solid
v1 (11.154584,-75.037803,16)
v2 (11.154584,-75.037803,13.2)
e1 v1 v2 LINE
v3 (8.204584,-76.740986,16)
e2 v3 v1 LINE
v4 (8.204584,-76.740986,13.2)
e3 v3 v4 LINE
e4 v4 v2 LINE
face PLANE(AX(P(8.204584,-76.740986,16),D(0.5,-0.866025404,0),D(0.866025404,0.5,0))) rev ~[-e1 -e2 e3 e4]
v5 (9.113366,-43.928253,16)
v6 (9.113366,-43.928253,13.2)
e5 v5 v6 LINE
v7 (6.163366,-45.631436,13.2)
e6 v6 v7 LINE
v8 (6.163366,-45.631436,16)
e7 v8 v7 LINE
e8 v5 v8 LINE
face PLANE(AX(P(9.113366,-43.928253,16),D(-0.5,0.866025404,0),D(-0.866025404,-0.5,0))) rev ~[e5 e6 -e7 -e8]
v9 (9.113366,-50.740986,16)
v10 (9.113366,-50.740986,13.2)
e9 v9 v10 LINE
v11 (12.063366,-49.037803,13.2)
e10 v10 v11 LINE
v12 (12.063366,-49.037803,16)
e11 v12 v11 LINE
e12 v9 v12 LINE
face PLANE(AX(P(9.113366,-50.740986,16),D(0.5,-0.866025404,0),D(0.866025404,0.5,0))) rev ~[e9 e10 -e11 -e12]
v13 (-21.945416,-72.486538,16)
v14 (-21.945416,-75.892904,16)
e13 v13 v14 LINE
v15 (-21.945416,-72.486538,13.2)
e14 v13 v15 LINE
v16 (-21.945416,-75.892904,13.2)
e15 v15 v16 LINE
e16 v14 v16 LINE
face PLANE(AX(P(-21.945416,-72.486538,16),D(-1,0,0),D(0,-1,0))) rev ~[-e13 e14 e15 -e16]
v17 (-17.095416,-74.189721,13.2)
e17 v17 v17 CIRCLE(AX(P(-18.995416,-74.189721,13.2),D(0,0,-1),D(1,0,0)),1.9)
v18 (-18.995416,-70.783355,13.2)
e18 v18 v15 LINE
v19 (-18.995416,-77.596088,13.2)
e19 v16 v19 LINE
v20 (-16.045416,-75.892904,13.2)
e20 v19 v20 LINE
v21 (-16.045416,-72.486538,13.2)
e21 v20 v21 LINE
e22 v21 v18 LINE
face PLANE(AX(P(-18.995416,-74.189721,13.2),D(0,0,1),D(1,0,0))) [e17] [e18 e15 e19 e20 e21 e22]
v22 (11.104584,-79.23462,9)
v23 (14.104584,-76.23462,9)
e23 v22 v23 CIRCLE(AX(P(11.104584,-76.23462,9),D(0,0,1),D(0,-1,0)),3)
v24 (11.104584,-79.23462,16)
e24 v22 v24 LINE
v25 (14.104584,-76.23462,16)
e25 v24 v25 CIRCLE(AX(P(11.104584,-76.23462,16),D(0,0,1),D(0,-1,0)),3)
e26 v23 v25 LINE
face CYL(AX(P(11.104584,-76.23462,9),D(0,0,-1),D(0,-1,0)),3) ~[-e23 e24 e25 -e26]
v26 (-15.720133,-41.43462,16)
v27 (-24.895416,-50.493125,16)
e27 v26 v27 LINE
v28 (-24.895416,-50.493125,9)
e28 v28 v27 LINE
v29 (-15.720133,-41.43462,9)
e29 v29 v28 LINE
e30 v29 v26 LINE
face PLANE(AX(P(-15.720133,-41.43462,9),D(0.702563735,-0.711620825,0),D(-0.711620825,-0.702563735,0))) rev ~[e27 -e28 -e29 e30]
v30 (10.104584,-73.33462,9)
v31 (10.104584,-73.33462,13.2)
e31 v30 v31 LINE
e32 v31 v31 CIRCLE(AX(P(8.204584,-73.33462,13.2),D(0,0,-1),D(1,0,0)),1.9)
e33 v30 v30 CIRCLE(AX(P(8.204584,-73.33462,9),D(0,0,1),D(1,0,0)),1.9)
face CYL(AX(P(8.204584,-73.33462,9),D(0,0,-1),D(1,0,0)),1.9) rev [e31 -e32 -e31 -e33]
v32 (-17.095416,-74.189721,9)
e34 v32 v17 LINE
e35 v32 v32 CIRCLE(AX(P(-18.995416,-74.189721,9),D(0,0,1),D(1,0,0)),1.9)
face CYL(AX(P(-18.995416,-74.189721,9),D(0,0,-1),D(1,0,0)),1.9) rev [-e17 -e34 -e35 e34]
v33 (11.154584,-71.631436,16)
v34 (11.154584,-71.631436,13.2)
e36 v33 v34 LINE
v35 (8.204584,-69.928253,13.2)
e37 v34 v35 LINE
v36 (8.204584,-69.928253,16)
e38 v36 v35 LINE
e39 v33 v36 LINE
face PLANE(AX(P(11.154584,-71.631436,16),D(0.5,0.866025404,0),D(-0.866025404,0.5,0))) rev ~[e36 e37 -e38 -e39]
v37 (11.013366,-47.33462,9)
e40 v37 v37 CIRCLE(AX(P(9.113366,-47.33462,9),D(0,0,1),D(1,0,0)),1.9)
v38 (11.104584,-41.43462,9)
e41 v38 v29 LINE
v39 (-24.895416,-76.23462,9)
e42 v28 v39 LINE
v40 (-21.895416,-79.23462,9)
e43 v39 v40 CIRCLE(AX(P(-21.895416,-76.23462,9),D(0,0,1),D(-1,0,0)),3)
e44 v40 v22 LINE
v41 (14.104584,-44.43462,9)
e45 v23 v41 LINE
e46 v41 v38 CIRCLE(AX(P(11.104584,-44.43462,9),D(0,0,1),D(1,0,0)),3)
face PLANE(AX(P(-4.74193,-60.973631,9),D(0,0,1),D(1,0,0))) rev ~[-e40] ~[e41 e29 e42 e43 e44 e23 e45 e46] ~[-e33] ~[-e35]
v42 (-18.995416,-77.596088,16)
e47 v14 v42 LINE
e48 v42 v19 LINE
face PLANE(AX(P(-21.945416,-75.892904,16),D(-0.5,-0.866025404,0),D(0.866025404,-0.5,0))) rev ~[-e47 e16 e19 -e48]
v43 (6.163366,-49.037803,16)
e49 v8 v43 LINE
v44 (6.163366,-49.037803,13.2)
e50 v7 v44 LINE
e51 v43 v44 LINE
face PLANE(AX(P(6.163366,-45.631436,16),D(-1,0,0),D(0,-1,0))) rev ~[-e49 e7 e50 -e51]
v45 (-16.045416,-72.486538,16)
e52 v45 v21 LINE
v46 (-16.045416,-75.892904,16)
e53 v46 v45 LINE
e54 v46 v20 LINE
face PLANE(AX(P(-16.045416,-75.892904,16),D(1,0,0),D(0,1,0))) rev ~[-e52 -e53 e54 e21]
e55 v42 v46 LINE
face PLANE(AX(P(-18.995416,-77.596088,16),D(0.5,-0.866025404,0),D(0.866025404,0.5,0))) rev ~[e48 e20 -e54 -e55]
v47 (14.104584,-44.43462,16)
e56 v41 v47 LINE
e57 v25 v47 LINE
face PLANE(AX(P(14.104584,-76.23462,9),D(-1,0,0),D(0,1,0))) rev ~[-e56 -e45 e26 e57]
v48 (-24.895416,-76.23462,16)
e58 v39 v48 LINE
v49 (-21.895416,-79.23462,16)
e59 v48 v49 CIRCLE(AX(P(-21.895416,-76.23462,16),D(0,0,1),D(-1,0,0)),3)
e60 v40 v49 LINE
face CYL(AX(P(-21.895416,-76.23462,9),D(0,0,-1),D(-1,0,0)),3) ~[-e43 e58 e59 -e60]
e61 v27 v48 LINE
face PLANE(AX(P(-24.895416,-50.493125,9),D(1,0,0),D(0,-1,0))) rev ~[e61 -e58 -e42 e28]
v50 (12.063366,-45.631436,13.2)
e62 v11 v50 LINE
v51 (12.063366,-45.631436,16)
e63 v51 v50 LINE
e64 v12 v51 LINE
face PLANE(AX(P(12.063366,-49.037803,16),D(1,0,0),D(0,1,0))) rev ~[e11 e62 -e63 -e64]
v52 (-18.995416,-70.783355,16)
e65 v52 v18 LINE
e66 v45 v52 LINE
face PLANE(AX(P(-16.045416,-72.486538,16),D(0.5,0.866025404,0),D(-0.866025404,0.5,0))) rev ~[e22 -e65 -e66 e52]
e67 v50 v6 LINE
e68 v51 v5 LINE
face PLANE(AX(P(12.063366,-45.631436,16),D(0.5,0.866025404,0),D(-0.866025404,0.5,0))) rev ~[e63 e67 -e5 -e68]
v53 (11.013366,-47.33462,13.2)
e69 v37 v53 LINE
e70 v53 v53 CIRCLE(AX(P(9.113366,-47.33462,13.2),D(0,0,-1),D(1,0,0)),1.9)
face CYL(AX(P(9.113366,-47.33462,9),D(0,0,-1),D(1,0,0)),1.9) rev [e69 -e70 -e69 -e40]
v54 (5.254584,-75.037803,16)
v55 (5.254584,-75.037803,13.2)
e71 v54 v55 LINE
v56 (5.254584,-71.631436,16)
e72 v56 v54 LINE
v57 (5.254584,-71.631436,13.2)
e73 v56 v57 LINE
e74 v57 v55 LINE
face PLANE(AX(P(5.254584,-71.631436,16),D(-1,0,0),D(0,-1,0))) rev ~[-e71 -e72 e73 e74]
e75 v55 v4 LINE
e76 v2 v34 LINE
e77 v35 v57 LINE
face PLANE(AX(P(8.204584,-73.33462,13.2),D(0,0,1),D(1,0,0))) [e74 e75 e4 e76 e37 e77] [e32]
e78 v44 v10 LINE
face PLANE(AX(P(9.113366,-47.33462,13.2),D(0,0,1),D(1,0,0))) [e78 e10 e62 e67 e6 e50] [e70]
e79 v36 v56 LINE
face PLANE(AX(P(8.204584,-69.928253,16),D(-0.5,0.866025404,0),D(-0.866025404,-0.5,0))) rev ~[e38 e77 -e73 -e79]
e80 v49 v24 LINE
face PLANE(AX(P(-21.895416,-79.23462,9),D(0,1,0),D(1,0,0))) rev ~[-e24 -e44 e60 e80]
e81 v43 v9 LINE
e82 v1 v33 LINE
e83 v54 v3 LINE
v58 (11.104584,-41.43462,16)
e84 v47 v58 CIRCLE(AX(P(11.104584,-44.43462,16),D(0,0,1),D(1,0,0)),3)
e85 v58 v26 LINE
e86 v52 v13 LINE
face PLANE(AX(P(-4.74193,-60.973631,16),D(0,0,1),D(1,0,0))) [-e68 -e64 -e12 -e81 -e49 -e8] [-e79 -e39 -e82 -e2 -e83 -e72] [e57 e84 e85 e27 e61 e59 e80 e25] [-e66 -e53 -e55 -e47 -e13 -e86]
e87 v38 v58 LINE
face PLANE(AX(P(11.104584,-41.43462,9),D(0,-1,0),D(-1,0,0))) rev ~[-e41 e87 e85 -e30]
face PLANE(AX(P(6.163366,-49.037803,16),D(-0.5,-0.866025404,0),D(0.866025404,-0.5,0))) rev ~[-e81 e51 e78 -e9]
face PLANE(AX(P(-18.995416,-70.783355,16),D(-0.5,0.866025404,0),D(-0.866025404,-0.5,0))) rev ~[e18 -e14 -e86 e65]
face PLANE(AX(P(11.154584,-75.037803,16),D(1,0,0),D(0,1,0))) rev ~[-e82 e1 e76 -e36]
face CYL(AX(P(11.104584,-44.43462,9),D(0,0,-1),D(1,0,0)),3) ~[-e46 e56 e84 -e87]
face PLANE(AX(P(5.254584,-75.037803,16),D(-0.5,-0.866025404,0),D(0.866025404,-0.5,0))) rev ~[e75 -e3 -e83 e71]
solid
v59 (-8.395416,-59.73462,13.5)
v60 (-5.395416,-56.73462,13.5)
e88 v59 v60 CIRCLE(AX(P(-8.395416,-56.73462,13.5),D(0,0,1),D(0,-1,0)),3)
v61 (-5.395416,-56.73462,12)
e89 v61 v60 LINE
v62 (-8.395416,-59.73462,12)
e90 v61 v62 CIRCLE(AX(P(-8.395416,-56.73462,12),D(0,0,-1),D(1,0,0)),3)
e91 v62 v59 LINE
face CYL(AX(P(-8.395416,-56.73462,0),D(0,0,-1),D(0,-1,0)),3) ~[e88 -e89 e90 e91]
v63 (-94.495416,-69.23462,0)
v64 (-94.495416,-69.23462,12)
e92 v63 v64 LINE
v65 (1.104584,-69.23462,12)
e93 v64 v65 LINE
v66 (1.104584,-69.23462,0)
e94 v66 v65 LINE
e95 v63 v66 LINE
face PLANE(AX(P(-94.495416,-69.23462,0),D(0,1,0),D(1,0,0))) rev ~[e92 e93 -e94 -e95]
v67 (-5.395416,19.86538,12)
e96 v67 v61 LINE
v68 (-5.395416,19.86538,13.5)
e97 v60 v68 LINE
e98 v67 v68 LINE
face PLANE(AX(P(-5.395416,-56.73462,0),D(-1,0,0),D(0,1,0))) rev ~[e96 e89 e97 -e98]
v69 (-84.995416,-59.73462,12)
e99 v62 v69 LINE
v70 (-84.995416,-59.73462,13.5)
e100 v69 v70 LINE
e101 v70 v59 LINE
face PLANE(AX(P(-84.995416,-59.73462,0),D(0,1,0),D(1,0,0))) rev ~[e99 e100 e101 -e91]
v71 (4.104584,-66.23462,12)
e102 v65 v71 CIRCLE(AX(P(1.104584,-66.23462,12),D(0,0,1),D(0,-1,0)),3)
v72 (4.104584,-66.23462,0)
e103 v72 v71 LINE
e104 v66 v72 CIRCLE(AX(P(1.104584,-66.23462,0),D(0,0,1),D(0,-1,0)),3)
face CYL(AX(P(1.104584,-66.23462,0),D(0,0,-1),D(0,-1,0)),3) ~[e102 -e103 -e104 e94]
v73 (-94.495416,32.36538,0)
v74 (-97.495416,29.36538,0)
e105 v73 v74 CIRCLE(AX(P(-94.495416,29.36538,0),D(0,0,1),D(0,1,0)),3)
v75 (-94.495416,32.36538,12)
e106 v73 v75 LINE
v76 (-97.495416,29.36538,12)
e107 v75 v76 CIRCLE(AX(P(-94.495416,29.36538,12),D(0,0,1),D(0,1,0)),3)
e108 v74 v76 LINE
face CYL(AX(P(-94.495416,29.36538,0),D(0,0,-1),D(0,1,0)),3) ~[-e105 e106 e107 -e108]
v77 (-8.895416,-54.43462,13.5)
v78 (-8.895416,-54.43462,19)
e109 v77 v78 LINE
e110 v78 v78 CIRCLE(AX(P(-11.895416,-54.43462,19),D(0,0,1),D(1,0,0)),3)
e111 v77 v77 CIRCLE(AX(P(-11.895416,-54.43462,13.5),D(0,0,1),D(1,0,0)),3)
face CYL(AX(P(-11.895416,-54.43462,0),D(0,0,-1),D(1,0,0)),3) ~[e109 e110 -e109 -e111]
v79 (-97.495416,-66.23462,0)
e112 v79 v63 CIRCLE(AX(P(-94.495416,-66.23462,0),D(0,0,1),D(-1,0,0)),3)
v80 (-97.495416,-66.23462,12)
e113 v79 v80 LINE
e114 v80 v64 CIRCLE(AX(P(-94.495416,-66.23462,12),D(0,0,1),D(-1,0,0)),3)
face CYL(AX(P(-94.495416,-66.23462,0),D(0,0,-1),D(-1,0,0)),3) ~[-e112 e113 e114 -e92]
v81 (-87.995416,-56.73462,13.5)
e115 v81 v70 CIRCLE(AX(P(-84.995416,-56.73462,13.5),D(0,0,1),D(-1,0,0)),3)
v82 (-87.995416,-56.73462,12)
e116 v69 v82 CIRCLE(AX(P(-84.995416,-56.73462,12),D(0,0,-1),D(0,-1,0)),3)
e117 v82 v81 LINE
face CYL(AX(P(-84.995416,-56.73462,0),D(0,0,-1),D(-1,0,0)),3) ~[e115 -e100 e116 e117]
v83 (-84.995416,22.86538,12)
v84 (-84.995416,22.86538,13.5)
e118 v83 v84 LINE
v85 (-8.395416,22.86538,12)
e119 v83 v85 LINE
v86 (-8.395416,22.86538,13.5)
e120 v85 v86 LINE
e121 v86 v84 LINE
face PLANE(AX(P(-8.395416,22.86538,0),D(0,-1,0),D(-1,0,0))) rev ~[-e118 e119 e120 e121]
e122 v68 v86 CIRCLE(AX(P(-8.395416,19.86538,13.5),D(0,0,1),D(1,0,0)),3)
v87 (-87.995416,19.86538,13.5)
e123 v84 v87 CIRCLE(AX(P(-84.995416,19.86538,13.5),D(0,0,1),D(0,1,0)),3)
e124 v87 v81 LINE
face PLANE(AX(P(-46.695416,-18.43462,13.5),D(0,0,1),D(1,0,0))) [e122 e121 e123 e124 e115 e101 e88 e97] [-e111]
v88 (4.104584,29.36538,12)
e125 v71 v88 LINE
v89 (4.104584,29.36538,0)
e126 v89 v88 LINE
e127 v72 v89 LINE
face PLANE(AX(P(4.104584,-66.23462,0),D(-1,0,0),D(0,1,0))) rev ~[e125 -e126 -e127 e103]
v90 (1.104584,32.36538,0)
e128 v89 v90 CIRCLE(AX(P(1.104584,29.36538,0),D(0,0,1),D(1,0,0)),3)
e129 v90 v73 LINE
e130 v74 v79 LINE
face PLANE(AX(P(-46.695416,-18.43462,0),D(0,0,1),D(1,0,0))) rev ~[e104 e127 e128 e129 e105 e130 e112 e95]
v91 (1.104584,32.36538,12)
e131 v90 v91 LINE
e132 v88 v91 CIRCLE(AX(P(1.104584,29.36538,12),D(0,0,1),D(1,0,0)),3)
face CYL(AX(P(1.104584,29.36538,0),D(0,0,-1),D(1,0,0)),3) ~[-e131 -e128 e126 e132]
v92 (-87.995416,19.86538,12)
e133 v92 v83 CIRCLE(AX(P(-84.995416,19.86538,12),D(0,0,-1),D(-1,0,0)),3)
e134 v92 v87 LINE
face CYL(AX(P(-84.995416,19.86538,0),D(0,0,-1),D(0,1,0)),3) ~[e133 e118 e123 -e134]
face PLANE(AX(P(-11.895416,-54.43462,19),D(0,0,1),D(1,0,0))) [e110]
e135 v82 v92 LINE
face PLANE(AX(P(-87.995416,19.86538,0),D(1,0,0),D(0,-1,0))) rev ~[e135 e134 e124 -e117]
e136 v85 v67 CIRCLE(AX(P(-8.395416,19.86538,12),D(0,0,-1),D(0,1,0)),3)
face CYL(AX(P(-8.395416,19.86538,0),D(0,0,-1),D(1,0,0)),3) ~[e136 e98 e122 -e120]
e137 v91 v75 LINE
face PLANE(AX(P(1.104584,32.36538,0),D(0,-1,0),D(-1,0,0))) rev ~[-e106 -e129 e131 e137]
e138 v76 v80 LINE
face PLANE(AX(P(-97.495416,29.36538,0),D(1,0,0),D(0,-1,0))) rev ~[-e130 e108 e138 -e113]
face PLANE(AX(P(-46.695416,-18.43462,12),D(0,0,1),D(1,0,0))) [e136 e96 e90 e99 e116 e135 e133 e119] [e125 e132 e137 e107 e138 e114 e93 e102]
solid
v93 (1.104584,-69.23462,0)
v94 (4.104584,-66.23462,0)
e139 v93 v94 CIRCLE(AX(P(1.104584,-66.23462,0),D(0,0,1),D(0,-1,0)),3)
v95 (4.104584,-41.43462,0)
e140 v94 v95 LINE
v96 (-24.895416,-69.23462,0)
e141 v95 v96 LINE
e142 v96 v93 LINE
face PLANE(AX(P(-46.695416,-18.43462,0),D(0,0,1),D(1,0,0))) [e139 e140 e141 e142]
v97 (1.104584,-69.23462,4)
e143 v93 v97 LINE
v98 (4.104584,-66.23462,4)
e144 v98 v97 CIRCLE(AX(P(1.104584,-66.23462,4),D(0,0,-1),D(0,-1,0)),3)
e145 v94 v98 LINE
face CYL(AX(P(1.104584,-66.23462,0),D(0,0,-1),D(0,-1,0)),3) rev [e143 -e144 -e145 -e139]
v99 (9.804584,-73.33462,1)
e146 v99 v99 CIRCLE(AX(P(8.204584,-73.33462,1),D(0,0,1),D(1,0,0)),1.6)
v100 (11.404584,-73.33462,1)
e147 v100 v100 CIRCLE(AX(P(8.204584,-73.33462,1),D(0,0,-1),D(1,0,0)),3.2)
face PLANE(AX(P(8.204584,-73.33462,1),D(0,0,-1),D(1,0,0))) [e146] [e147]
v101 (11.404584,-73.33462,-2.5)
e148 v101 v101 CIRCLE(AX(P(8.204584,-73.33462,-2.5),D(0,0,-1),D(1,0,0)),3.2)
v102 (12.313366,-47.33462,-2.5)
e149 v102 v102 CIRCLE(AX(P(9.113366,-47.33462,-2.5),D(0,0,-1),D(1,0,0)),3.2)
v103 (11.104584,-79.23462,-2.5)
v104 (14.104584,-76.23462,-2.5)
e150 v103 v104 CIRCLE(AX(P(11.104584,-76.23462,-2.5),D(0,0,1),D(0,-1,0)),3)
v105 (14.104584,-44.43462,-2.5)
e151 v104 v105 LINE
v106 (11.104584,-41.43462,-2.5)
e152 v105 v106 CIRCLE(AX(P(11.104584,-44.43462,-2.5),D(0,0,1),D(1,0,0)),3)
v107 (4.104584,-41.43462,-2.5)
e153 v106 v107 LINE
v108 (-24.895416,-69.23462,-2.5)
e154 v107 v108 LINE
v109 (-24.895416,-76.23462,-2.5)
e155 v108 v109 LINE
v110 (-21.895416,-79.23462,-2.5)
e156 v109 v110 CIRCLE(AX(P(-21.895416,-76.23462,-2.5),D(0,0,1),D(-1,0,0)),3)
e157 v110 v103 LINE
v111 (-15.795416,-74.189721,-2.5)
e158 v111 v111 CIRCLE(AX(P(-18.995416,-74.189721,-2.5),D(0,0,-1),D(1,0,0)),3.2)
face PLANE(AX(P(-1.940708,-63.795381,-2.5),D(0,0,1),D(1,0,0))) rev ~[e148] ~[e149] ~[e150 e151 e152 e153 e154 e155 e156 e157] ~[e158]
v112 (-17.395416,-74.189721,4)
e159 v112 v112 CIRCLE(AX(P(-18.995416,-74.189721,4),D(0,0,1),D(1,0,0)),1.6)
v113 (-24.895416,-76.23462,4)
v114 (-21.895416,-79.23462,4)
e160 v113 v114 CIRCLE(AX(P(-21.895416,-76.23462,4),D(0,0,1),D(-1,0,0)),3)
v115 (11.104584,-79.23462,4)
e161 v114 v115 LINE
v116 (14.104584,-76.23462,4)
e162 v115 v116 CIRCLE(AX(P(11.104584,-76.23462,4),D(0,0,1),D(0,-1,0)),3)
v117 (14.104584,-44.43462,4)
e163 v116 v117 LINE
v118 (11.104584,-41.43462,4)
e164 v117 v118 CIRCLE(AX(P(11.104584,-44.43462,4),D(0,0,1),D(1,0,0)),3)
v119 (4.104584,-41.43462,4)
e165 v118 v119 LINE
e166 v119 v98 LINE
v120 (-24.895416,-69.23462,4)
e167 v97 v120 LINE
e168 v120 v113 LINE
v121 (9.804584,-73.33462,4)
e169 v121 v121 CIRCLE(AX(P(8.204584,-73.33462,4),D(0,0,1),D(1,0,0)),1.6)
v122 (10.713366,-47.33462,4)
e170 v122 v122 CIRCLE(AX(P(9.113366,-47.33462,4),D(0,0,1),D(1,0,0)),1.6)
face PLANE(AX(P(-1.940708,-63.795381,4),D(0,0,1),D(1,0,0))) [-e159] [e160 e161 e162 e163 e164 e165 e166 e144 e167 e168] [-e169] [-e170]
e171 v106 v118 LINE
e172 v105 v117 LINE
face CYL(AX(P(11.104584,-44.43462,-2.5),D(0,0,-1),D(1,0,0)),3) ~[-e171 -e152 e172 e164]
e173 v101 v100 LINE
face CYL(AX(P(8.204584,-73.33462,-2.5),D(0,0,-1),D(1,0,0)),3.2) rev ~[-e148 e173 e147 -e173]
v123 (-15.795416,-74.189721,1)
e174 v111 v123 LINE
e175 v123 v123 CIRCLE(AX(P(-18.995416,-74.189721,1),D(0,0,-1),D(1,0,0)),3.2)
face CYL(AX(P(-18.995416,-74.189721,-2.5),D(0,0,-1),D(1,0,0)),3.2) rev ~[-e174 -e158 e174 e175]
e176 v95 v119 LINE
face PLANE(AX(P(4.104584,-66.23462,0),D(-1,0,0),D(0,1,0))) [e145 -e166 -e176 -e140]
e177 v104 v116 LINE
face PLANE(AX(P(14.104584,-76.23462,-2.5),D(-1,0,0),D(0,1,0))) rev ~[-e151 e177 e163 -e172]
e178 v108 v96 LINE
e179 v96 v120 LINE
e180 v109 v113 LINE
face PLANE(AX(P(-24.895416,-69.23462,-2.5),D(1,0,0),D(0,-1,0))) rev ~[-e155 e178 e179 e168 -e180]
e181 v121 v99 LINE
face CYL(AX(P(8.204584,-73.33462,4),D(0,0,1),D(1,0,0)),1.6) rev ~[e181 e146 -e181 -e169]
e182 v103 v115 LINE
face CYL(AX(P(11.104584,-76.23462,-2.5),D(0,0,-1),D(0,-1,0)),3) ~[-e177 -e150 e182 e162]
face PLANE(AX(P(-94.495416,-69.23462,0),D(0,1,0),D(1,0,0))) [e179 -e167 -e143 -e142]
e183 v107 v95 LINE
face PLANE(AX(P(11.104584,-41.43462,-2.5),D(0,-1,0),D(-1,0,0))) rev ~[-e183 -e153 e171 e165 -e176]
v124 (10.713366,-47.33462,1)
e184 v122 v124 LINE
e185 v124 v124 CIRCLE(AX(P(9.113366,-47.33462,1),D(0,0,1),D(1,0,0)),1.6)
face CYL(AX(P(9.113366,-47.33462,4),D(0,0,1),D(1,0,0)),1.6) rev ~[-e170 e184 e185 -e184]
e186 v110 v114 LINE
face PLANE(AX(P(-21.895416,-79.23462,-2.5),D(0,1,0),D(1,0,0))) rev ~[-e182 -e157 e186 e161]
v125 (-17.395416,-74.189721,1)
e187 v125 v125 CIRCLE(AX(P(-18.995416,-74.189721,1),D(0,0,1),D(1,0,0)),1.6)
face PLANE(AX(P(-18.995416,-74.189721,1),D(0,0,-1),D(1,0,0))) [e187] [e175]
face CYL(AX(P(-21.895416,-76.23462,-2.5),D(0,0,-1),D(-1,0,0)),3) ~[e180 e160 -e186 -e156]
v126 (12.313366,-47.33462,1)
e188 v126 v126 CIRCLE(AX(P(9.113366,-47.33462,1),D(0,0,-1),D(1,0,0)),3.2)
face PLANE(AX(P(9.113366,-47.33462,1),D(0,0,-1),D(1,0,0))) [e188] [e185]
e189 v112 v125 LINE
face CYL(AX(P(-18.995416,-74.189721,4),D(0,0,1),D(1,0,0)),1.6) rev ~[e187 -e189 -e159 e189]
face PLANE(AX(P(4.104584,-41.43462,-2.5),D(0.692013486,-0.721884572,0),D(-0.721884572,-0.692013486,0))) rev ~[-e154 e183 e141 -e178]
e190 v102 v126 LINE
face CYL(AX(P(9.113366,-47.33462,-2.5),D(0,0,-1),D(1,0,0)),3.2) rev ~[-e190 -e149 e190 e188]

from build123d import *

# Parameters (mm, degrees)
F1_DEPTH  = 12
F0_R      = 3
F2_DEPTH  = 13.5
F3_DEPTH  = 19
F4_R      = 1.9
F5_DEPTH  = 7
F10_DEPTH = 2.8
F13_DEPTH = 6.5
F16_R     = 3.2
F17_DEPTH = 3.5
F19_R     = 1.6
F20_DEPTH = 6.501


with BuildPart() as f1:
    # F0 (on Top) → F1 (new body)
    with BuildSketch(Plane.XY):
        with BuildLine():
            Line((1.1045844555, 32.365380348), (-94.4954155445, 32.365380348))
            ThreePointArc((-94.4954155445, 32.365380348), (-96.6167358881, 31.4867006915), (-97.4954155445, 29.365380348))
            Line((-97.4954155445, 29.365380348), (-97.4954155445, -66.234619652))
            ThreePointArc((-97.4954155445, -66.234619652), (-96.6167358881, -68.3559399956), (-94.4954155445, -69.234619652))
            Line((-94.4954155445, -69.234619652), (1.1045844555, -69.234619652))
            ThreePointArc((1.1045844555, -69.234619652), (3.225904799, -68.3559399956), (4.1045844555, -66.234619652))
            Line((4.1045844555, -66.234619652), (4.1045844555, 29.365380348))
            ThreePointArc((4.1045844555, 29.365380348), (3.225904799, 31.4867006915), (1.1045844555, 32.365380348))
        make_face()
        with BuildLine():
            ThreePointArc((-87.9954155445, 19.865380348), (-87.1167358881, 21.9867006915), (-84.9954155445, 22.865380348))
            Line((-84.9954155445, 22.865380348), (-8.3954155445, 22.865380348))
            ThreePointArc((-8.3954155445, 22.865380348), (-6.274095201, 21.9867006915), (-5.3954155445, 19.865380348))
            Line((-5.3954155445, 19.865380348), (-5.3954155445, -56.734619652))
            ThreePointArc((-5.3954155445, -56.734619652), (-6.274095201, -58.8559399956), (-8.3954155445, -59.734619652))
            Line((-8.3954155445, -59.734619652), (-84.9954155445, -59.734619652))
            ThreePointArc((-84.9954155445, -59.734619652), (-87.1167358881, -58.8559399956), (-87.9954155445, -56.734619652))
            Line((-87.9954155445, -56.734619652), (-87.9954155445, 19.865380348))
        make_face(mode=Mode.SUBTRACT)
    extrude(amount=F1_DEPTH)

    # F0 (on Top) → F2 (join)
    with BuildSketch(Plane.XY):
        with BuildLine():
            Line((-8.3954155445, 22.865380348), (-84.9954155445, 22.865380348))
            ThreePointArc((-84.9954155445, 22.865380348), (-87.1167358881, 21.9867006915), (-87.9954155445, 19.865380348))
            Line((-87.9954155445, 19.865380348), (-87.9954155445, -56.734619652))
            ThreePointArc((-87.9954155445, -56.734619652), (-87.1167358881, -58.8559399956), (-84.9954155445, -59.734619652))
            Line((-84.9954155445, -59.734619652), (-8.3954155445, -59.734619652))
            ThreePointArc((-8.3954155445, -59.734619652), (-6.274095201, -58.8559399956), (-5.3954155445, -56.734619652))
            Line((-5.3954155445, -56.734619652), (-5.3954155445, 19.865380348))
            ThreePointArc((-5.3954155445, 19.865380348), (-6.274095201, 21.9867006915), (-8.3954155445, 22.865380348))
        make_face()
        with Locations((-11.8954155445, -54.434619652)):
            Circle(F0_R, mode=Mode.SUBTRACT)
    extrude(amount=F2_DEPTH)

    # F0 (on Top) → F3 (join)
    with BuildSketch(Plane.XY):
        with Locations((-11.8954155445, -54.434619652)):
            Circle(F0_R)
    extrude(amount=F3_DEPTH)


with BuildPart() as f5:
    # F4 (on Top) → F5 (new body)
    with BuildSketch(Plane.XY):
        with BuildLine():
            ThreePointArc((14.1045844555, -44.434619652), (13.225904799, -42.3132993085), (11.1045844555, -41.434619652))
            Line((11.1045844555, -41.434619652), (-15.7201327384, -41.434619652))
            Line((-15.7201327384, -41.434619652), (-24.8954155445, -50.4931248724))
            Line((-24.8954155445, -50.4931248724), (-24.8954155445, -76.234619652))
            ThreePointArc((-24.8954155445, -76.234619652), (-24.0167358881, -78.3559399956), (-21.8954155445, -79.234619652))
            Line((-21.8954155445, -79.234619652), (11.1045844555, -79.234619652))
            ThreePointArc((11.1045844555, -79.234619652), (13.225904799, -78.3559399956), (14.1045844555, -76.234619652))
            Line((14.1045844555, -76.234619652), (14.1045844555, -44.434619652))
        make_face()
        with Locations((-18.9954155445, -74.1897211546)):
            Circle(F4_R, mode=Mode.SUBTRACT)
        with Locations((8.2045844555, -73.334619652)):
            Circle(F4_R, mode=Mode.SUBTRACT)
        with Locations((9.113365896, -47.334619652)):
            Circle(F4_R, mode=Mode.SUBTRACT)
    extrude(amount=F5_DEPTH)


with BuildPart() as f5_1:
    # F6: moved
    add(f5.part.moved(Location((0, 0, 3))))

    # F9 (on offset) → F10 (cut)
    with BuildSketch(Plane.XY.offset(10)):
        Polygon((8.2045844555, -69.9282530638), (5.2545844555, -71.6314363579), (5.2545844555, -75.0378029461), (8.2045844555, -76.7409862402), (11.1545844555, -75.0378029461), (11.1545844555, -71.6314363579), align=None)
        Polygon((9.113365896, -43.9282530638), (6.163365896, -45.6314363579), (6.163365896, -49.0378029461), (9.113365896, -50.7409862402), (12.063365896, -49.0378029461), (12.063365896, -45.6314363579), align=None)
        Polygon((-18.9954155445, -70.7833545663), (-21.9454155445, -72.4865378605), (-21.9454155445, -75.8929044487), (-18.9954155445, -77.5960877428), (-16.0454155445, -75.8929044487), (-16.0454155445, -72.4865378605), align=None)
    extrude(amount=-F10_DEPTH, mode=Mode.SUBTRACT)


with BuildPart() as f5_2:
    # F11: moved
    add(f5_1.part.moved(Location((0, 0, 8.8))))


with BuildPart() as f5_3:
    # F12: moved
    add(f5_2.part.moved(Location((0, 0, -0.8))))


with BuildPart() as f13:
    # F7 (on Top) → F13 (new body)
    with BuildSketch(Plane.XY):
        with BuildLine():
            Line((11.1045844555, -41.434619652), (4.1045844555, -41.434619652))
            Line((4.1045844555, -41.434619652), (-24.8954155445, -69.234619652))
            Line((-24.8954155445, -69.234619652), (-24.8954155445, -76.234619652))
            ThreePointArc((-24.8954155445, -76.234619652), (-24.0167358881, -78.3559399956), (-21.8954155445, -79.234619652))
            Line((-21.8954155445, -79.234619652), (11.1045844555, -79.234619652))
            ThreePointArc((11.1045844555, -79.234619652), (13.225904799, -78.3559399956), (14.1045844555, -76.234619652))
            Line((14.1045844555, -76.234619652), (14.1045844555, -44.434619652))
            ThreePointArc((14.1045844555, -44.434619652), (13.225904799, -42.3132993085), (11.1045844555, -41.434619652))
        make_face()
    extrude(amount=F13_DEPTH)


with BuildPart() as f13_1:
    # F14: moved
    add(f13.part.moved(Location((0, 0, -2.5))))

    # F16 (on offset) → F17 (cut)
    with BuildSketch(Plane(origin=(0, 0, -2.5), x_dir=(1, 0, 0), z_dir=(0, 0, -1))):
        with Locations((-18.9954155445, 74.1897211546)):
            Circle(F16_R)
        with Locations((8.2045844555, 73.334619652)):
            Circle(F16_R)
        with Locations((9.113365896, 47.334619652)):
            Circle(F16_R)
    extrude(amount=-F17_DEPTH, mode=Mode.SUBTRACT)

    # F19 (on offset) → F20 (cut, through all)
    with BuildSketch(Plane.XY.offset(4)):
        with Locations((-18.9954155445, -74.1897211546)):
            Circle(F19_R)
        with Locations((9.113365896, -47.334619652)):
            Circle(F19_R)
        with Locations((8.2045844555, -73.334619652)):
            Circle(F19_R)
    extrude(amount=-F20_DEPTH, mode=Mode.SUBTRACT)

    # F21: cut F1
    add(f1.part, mode=Mode.SUBTRACT)


with BuildPart() as f5_4:
    # F22: moved
    add(f5_3.part.moved(Location((0, 0, -2))))


solid = Compound([f1.part, f13_1.part, f5_4.part])
